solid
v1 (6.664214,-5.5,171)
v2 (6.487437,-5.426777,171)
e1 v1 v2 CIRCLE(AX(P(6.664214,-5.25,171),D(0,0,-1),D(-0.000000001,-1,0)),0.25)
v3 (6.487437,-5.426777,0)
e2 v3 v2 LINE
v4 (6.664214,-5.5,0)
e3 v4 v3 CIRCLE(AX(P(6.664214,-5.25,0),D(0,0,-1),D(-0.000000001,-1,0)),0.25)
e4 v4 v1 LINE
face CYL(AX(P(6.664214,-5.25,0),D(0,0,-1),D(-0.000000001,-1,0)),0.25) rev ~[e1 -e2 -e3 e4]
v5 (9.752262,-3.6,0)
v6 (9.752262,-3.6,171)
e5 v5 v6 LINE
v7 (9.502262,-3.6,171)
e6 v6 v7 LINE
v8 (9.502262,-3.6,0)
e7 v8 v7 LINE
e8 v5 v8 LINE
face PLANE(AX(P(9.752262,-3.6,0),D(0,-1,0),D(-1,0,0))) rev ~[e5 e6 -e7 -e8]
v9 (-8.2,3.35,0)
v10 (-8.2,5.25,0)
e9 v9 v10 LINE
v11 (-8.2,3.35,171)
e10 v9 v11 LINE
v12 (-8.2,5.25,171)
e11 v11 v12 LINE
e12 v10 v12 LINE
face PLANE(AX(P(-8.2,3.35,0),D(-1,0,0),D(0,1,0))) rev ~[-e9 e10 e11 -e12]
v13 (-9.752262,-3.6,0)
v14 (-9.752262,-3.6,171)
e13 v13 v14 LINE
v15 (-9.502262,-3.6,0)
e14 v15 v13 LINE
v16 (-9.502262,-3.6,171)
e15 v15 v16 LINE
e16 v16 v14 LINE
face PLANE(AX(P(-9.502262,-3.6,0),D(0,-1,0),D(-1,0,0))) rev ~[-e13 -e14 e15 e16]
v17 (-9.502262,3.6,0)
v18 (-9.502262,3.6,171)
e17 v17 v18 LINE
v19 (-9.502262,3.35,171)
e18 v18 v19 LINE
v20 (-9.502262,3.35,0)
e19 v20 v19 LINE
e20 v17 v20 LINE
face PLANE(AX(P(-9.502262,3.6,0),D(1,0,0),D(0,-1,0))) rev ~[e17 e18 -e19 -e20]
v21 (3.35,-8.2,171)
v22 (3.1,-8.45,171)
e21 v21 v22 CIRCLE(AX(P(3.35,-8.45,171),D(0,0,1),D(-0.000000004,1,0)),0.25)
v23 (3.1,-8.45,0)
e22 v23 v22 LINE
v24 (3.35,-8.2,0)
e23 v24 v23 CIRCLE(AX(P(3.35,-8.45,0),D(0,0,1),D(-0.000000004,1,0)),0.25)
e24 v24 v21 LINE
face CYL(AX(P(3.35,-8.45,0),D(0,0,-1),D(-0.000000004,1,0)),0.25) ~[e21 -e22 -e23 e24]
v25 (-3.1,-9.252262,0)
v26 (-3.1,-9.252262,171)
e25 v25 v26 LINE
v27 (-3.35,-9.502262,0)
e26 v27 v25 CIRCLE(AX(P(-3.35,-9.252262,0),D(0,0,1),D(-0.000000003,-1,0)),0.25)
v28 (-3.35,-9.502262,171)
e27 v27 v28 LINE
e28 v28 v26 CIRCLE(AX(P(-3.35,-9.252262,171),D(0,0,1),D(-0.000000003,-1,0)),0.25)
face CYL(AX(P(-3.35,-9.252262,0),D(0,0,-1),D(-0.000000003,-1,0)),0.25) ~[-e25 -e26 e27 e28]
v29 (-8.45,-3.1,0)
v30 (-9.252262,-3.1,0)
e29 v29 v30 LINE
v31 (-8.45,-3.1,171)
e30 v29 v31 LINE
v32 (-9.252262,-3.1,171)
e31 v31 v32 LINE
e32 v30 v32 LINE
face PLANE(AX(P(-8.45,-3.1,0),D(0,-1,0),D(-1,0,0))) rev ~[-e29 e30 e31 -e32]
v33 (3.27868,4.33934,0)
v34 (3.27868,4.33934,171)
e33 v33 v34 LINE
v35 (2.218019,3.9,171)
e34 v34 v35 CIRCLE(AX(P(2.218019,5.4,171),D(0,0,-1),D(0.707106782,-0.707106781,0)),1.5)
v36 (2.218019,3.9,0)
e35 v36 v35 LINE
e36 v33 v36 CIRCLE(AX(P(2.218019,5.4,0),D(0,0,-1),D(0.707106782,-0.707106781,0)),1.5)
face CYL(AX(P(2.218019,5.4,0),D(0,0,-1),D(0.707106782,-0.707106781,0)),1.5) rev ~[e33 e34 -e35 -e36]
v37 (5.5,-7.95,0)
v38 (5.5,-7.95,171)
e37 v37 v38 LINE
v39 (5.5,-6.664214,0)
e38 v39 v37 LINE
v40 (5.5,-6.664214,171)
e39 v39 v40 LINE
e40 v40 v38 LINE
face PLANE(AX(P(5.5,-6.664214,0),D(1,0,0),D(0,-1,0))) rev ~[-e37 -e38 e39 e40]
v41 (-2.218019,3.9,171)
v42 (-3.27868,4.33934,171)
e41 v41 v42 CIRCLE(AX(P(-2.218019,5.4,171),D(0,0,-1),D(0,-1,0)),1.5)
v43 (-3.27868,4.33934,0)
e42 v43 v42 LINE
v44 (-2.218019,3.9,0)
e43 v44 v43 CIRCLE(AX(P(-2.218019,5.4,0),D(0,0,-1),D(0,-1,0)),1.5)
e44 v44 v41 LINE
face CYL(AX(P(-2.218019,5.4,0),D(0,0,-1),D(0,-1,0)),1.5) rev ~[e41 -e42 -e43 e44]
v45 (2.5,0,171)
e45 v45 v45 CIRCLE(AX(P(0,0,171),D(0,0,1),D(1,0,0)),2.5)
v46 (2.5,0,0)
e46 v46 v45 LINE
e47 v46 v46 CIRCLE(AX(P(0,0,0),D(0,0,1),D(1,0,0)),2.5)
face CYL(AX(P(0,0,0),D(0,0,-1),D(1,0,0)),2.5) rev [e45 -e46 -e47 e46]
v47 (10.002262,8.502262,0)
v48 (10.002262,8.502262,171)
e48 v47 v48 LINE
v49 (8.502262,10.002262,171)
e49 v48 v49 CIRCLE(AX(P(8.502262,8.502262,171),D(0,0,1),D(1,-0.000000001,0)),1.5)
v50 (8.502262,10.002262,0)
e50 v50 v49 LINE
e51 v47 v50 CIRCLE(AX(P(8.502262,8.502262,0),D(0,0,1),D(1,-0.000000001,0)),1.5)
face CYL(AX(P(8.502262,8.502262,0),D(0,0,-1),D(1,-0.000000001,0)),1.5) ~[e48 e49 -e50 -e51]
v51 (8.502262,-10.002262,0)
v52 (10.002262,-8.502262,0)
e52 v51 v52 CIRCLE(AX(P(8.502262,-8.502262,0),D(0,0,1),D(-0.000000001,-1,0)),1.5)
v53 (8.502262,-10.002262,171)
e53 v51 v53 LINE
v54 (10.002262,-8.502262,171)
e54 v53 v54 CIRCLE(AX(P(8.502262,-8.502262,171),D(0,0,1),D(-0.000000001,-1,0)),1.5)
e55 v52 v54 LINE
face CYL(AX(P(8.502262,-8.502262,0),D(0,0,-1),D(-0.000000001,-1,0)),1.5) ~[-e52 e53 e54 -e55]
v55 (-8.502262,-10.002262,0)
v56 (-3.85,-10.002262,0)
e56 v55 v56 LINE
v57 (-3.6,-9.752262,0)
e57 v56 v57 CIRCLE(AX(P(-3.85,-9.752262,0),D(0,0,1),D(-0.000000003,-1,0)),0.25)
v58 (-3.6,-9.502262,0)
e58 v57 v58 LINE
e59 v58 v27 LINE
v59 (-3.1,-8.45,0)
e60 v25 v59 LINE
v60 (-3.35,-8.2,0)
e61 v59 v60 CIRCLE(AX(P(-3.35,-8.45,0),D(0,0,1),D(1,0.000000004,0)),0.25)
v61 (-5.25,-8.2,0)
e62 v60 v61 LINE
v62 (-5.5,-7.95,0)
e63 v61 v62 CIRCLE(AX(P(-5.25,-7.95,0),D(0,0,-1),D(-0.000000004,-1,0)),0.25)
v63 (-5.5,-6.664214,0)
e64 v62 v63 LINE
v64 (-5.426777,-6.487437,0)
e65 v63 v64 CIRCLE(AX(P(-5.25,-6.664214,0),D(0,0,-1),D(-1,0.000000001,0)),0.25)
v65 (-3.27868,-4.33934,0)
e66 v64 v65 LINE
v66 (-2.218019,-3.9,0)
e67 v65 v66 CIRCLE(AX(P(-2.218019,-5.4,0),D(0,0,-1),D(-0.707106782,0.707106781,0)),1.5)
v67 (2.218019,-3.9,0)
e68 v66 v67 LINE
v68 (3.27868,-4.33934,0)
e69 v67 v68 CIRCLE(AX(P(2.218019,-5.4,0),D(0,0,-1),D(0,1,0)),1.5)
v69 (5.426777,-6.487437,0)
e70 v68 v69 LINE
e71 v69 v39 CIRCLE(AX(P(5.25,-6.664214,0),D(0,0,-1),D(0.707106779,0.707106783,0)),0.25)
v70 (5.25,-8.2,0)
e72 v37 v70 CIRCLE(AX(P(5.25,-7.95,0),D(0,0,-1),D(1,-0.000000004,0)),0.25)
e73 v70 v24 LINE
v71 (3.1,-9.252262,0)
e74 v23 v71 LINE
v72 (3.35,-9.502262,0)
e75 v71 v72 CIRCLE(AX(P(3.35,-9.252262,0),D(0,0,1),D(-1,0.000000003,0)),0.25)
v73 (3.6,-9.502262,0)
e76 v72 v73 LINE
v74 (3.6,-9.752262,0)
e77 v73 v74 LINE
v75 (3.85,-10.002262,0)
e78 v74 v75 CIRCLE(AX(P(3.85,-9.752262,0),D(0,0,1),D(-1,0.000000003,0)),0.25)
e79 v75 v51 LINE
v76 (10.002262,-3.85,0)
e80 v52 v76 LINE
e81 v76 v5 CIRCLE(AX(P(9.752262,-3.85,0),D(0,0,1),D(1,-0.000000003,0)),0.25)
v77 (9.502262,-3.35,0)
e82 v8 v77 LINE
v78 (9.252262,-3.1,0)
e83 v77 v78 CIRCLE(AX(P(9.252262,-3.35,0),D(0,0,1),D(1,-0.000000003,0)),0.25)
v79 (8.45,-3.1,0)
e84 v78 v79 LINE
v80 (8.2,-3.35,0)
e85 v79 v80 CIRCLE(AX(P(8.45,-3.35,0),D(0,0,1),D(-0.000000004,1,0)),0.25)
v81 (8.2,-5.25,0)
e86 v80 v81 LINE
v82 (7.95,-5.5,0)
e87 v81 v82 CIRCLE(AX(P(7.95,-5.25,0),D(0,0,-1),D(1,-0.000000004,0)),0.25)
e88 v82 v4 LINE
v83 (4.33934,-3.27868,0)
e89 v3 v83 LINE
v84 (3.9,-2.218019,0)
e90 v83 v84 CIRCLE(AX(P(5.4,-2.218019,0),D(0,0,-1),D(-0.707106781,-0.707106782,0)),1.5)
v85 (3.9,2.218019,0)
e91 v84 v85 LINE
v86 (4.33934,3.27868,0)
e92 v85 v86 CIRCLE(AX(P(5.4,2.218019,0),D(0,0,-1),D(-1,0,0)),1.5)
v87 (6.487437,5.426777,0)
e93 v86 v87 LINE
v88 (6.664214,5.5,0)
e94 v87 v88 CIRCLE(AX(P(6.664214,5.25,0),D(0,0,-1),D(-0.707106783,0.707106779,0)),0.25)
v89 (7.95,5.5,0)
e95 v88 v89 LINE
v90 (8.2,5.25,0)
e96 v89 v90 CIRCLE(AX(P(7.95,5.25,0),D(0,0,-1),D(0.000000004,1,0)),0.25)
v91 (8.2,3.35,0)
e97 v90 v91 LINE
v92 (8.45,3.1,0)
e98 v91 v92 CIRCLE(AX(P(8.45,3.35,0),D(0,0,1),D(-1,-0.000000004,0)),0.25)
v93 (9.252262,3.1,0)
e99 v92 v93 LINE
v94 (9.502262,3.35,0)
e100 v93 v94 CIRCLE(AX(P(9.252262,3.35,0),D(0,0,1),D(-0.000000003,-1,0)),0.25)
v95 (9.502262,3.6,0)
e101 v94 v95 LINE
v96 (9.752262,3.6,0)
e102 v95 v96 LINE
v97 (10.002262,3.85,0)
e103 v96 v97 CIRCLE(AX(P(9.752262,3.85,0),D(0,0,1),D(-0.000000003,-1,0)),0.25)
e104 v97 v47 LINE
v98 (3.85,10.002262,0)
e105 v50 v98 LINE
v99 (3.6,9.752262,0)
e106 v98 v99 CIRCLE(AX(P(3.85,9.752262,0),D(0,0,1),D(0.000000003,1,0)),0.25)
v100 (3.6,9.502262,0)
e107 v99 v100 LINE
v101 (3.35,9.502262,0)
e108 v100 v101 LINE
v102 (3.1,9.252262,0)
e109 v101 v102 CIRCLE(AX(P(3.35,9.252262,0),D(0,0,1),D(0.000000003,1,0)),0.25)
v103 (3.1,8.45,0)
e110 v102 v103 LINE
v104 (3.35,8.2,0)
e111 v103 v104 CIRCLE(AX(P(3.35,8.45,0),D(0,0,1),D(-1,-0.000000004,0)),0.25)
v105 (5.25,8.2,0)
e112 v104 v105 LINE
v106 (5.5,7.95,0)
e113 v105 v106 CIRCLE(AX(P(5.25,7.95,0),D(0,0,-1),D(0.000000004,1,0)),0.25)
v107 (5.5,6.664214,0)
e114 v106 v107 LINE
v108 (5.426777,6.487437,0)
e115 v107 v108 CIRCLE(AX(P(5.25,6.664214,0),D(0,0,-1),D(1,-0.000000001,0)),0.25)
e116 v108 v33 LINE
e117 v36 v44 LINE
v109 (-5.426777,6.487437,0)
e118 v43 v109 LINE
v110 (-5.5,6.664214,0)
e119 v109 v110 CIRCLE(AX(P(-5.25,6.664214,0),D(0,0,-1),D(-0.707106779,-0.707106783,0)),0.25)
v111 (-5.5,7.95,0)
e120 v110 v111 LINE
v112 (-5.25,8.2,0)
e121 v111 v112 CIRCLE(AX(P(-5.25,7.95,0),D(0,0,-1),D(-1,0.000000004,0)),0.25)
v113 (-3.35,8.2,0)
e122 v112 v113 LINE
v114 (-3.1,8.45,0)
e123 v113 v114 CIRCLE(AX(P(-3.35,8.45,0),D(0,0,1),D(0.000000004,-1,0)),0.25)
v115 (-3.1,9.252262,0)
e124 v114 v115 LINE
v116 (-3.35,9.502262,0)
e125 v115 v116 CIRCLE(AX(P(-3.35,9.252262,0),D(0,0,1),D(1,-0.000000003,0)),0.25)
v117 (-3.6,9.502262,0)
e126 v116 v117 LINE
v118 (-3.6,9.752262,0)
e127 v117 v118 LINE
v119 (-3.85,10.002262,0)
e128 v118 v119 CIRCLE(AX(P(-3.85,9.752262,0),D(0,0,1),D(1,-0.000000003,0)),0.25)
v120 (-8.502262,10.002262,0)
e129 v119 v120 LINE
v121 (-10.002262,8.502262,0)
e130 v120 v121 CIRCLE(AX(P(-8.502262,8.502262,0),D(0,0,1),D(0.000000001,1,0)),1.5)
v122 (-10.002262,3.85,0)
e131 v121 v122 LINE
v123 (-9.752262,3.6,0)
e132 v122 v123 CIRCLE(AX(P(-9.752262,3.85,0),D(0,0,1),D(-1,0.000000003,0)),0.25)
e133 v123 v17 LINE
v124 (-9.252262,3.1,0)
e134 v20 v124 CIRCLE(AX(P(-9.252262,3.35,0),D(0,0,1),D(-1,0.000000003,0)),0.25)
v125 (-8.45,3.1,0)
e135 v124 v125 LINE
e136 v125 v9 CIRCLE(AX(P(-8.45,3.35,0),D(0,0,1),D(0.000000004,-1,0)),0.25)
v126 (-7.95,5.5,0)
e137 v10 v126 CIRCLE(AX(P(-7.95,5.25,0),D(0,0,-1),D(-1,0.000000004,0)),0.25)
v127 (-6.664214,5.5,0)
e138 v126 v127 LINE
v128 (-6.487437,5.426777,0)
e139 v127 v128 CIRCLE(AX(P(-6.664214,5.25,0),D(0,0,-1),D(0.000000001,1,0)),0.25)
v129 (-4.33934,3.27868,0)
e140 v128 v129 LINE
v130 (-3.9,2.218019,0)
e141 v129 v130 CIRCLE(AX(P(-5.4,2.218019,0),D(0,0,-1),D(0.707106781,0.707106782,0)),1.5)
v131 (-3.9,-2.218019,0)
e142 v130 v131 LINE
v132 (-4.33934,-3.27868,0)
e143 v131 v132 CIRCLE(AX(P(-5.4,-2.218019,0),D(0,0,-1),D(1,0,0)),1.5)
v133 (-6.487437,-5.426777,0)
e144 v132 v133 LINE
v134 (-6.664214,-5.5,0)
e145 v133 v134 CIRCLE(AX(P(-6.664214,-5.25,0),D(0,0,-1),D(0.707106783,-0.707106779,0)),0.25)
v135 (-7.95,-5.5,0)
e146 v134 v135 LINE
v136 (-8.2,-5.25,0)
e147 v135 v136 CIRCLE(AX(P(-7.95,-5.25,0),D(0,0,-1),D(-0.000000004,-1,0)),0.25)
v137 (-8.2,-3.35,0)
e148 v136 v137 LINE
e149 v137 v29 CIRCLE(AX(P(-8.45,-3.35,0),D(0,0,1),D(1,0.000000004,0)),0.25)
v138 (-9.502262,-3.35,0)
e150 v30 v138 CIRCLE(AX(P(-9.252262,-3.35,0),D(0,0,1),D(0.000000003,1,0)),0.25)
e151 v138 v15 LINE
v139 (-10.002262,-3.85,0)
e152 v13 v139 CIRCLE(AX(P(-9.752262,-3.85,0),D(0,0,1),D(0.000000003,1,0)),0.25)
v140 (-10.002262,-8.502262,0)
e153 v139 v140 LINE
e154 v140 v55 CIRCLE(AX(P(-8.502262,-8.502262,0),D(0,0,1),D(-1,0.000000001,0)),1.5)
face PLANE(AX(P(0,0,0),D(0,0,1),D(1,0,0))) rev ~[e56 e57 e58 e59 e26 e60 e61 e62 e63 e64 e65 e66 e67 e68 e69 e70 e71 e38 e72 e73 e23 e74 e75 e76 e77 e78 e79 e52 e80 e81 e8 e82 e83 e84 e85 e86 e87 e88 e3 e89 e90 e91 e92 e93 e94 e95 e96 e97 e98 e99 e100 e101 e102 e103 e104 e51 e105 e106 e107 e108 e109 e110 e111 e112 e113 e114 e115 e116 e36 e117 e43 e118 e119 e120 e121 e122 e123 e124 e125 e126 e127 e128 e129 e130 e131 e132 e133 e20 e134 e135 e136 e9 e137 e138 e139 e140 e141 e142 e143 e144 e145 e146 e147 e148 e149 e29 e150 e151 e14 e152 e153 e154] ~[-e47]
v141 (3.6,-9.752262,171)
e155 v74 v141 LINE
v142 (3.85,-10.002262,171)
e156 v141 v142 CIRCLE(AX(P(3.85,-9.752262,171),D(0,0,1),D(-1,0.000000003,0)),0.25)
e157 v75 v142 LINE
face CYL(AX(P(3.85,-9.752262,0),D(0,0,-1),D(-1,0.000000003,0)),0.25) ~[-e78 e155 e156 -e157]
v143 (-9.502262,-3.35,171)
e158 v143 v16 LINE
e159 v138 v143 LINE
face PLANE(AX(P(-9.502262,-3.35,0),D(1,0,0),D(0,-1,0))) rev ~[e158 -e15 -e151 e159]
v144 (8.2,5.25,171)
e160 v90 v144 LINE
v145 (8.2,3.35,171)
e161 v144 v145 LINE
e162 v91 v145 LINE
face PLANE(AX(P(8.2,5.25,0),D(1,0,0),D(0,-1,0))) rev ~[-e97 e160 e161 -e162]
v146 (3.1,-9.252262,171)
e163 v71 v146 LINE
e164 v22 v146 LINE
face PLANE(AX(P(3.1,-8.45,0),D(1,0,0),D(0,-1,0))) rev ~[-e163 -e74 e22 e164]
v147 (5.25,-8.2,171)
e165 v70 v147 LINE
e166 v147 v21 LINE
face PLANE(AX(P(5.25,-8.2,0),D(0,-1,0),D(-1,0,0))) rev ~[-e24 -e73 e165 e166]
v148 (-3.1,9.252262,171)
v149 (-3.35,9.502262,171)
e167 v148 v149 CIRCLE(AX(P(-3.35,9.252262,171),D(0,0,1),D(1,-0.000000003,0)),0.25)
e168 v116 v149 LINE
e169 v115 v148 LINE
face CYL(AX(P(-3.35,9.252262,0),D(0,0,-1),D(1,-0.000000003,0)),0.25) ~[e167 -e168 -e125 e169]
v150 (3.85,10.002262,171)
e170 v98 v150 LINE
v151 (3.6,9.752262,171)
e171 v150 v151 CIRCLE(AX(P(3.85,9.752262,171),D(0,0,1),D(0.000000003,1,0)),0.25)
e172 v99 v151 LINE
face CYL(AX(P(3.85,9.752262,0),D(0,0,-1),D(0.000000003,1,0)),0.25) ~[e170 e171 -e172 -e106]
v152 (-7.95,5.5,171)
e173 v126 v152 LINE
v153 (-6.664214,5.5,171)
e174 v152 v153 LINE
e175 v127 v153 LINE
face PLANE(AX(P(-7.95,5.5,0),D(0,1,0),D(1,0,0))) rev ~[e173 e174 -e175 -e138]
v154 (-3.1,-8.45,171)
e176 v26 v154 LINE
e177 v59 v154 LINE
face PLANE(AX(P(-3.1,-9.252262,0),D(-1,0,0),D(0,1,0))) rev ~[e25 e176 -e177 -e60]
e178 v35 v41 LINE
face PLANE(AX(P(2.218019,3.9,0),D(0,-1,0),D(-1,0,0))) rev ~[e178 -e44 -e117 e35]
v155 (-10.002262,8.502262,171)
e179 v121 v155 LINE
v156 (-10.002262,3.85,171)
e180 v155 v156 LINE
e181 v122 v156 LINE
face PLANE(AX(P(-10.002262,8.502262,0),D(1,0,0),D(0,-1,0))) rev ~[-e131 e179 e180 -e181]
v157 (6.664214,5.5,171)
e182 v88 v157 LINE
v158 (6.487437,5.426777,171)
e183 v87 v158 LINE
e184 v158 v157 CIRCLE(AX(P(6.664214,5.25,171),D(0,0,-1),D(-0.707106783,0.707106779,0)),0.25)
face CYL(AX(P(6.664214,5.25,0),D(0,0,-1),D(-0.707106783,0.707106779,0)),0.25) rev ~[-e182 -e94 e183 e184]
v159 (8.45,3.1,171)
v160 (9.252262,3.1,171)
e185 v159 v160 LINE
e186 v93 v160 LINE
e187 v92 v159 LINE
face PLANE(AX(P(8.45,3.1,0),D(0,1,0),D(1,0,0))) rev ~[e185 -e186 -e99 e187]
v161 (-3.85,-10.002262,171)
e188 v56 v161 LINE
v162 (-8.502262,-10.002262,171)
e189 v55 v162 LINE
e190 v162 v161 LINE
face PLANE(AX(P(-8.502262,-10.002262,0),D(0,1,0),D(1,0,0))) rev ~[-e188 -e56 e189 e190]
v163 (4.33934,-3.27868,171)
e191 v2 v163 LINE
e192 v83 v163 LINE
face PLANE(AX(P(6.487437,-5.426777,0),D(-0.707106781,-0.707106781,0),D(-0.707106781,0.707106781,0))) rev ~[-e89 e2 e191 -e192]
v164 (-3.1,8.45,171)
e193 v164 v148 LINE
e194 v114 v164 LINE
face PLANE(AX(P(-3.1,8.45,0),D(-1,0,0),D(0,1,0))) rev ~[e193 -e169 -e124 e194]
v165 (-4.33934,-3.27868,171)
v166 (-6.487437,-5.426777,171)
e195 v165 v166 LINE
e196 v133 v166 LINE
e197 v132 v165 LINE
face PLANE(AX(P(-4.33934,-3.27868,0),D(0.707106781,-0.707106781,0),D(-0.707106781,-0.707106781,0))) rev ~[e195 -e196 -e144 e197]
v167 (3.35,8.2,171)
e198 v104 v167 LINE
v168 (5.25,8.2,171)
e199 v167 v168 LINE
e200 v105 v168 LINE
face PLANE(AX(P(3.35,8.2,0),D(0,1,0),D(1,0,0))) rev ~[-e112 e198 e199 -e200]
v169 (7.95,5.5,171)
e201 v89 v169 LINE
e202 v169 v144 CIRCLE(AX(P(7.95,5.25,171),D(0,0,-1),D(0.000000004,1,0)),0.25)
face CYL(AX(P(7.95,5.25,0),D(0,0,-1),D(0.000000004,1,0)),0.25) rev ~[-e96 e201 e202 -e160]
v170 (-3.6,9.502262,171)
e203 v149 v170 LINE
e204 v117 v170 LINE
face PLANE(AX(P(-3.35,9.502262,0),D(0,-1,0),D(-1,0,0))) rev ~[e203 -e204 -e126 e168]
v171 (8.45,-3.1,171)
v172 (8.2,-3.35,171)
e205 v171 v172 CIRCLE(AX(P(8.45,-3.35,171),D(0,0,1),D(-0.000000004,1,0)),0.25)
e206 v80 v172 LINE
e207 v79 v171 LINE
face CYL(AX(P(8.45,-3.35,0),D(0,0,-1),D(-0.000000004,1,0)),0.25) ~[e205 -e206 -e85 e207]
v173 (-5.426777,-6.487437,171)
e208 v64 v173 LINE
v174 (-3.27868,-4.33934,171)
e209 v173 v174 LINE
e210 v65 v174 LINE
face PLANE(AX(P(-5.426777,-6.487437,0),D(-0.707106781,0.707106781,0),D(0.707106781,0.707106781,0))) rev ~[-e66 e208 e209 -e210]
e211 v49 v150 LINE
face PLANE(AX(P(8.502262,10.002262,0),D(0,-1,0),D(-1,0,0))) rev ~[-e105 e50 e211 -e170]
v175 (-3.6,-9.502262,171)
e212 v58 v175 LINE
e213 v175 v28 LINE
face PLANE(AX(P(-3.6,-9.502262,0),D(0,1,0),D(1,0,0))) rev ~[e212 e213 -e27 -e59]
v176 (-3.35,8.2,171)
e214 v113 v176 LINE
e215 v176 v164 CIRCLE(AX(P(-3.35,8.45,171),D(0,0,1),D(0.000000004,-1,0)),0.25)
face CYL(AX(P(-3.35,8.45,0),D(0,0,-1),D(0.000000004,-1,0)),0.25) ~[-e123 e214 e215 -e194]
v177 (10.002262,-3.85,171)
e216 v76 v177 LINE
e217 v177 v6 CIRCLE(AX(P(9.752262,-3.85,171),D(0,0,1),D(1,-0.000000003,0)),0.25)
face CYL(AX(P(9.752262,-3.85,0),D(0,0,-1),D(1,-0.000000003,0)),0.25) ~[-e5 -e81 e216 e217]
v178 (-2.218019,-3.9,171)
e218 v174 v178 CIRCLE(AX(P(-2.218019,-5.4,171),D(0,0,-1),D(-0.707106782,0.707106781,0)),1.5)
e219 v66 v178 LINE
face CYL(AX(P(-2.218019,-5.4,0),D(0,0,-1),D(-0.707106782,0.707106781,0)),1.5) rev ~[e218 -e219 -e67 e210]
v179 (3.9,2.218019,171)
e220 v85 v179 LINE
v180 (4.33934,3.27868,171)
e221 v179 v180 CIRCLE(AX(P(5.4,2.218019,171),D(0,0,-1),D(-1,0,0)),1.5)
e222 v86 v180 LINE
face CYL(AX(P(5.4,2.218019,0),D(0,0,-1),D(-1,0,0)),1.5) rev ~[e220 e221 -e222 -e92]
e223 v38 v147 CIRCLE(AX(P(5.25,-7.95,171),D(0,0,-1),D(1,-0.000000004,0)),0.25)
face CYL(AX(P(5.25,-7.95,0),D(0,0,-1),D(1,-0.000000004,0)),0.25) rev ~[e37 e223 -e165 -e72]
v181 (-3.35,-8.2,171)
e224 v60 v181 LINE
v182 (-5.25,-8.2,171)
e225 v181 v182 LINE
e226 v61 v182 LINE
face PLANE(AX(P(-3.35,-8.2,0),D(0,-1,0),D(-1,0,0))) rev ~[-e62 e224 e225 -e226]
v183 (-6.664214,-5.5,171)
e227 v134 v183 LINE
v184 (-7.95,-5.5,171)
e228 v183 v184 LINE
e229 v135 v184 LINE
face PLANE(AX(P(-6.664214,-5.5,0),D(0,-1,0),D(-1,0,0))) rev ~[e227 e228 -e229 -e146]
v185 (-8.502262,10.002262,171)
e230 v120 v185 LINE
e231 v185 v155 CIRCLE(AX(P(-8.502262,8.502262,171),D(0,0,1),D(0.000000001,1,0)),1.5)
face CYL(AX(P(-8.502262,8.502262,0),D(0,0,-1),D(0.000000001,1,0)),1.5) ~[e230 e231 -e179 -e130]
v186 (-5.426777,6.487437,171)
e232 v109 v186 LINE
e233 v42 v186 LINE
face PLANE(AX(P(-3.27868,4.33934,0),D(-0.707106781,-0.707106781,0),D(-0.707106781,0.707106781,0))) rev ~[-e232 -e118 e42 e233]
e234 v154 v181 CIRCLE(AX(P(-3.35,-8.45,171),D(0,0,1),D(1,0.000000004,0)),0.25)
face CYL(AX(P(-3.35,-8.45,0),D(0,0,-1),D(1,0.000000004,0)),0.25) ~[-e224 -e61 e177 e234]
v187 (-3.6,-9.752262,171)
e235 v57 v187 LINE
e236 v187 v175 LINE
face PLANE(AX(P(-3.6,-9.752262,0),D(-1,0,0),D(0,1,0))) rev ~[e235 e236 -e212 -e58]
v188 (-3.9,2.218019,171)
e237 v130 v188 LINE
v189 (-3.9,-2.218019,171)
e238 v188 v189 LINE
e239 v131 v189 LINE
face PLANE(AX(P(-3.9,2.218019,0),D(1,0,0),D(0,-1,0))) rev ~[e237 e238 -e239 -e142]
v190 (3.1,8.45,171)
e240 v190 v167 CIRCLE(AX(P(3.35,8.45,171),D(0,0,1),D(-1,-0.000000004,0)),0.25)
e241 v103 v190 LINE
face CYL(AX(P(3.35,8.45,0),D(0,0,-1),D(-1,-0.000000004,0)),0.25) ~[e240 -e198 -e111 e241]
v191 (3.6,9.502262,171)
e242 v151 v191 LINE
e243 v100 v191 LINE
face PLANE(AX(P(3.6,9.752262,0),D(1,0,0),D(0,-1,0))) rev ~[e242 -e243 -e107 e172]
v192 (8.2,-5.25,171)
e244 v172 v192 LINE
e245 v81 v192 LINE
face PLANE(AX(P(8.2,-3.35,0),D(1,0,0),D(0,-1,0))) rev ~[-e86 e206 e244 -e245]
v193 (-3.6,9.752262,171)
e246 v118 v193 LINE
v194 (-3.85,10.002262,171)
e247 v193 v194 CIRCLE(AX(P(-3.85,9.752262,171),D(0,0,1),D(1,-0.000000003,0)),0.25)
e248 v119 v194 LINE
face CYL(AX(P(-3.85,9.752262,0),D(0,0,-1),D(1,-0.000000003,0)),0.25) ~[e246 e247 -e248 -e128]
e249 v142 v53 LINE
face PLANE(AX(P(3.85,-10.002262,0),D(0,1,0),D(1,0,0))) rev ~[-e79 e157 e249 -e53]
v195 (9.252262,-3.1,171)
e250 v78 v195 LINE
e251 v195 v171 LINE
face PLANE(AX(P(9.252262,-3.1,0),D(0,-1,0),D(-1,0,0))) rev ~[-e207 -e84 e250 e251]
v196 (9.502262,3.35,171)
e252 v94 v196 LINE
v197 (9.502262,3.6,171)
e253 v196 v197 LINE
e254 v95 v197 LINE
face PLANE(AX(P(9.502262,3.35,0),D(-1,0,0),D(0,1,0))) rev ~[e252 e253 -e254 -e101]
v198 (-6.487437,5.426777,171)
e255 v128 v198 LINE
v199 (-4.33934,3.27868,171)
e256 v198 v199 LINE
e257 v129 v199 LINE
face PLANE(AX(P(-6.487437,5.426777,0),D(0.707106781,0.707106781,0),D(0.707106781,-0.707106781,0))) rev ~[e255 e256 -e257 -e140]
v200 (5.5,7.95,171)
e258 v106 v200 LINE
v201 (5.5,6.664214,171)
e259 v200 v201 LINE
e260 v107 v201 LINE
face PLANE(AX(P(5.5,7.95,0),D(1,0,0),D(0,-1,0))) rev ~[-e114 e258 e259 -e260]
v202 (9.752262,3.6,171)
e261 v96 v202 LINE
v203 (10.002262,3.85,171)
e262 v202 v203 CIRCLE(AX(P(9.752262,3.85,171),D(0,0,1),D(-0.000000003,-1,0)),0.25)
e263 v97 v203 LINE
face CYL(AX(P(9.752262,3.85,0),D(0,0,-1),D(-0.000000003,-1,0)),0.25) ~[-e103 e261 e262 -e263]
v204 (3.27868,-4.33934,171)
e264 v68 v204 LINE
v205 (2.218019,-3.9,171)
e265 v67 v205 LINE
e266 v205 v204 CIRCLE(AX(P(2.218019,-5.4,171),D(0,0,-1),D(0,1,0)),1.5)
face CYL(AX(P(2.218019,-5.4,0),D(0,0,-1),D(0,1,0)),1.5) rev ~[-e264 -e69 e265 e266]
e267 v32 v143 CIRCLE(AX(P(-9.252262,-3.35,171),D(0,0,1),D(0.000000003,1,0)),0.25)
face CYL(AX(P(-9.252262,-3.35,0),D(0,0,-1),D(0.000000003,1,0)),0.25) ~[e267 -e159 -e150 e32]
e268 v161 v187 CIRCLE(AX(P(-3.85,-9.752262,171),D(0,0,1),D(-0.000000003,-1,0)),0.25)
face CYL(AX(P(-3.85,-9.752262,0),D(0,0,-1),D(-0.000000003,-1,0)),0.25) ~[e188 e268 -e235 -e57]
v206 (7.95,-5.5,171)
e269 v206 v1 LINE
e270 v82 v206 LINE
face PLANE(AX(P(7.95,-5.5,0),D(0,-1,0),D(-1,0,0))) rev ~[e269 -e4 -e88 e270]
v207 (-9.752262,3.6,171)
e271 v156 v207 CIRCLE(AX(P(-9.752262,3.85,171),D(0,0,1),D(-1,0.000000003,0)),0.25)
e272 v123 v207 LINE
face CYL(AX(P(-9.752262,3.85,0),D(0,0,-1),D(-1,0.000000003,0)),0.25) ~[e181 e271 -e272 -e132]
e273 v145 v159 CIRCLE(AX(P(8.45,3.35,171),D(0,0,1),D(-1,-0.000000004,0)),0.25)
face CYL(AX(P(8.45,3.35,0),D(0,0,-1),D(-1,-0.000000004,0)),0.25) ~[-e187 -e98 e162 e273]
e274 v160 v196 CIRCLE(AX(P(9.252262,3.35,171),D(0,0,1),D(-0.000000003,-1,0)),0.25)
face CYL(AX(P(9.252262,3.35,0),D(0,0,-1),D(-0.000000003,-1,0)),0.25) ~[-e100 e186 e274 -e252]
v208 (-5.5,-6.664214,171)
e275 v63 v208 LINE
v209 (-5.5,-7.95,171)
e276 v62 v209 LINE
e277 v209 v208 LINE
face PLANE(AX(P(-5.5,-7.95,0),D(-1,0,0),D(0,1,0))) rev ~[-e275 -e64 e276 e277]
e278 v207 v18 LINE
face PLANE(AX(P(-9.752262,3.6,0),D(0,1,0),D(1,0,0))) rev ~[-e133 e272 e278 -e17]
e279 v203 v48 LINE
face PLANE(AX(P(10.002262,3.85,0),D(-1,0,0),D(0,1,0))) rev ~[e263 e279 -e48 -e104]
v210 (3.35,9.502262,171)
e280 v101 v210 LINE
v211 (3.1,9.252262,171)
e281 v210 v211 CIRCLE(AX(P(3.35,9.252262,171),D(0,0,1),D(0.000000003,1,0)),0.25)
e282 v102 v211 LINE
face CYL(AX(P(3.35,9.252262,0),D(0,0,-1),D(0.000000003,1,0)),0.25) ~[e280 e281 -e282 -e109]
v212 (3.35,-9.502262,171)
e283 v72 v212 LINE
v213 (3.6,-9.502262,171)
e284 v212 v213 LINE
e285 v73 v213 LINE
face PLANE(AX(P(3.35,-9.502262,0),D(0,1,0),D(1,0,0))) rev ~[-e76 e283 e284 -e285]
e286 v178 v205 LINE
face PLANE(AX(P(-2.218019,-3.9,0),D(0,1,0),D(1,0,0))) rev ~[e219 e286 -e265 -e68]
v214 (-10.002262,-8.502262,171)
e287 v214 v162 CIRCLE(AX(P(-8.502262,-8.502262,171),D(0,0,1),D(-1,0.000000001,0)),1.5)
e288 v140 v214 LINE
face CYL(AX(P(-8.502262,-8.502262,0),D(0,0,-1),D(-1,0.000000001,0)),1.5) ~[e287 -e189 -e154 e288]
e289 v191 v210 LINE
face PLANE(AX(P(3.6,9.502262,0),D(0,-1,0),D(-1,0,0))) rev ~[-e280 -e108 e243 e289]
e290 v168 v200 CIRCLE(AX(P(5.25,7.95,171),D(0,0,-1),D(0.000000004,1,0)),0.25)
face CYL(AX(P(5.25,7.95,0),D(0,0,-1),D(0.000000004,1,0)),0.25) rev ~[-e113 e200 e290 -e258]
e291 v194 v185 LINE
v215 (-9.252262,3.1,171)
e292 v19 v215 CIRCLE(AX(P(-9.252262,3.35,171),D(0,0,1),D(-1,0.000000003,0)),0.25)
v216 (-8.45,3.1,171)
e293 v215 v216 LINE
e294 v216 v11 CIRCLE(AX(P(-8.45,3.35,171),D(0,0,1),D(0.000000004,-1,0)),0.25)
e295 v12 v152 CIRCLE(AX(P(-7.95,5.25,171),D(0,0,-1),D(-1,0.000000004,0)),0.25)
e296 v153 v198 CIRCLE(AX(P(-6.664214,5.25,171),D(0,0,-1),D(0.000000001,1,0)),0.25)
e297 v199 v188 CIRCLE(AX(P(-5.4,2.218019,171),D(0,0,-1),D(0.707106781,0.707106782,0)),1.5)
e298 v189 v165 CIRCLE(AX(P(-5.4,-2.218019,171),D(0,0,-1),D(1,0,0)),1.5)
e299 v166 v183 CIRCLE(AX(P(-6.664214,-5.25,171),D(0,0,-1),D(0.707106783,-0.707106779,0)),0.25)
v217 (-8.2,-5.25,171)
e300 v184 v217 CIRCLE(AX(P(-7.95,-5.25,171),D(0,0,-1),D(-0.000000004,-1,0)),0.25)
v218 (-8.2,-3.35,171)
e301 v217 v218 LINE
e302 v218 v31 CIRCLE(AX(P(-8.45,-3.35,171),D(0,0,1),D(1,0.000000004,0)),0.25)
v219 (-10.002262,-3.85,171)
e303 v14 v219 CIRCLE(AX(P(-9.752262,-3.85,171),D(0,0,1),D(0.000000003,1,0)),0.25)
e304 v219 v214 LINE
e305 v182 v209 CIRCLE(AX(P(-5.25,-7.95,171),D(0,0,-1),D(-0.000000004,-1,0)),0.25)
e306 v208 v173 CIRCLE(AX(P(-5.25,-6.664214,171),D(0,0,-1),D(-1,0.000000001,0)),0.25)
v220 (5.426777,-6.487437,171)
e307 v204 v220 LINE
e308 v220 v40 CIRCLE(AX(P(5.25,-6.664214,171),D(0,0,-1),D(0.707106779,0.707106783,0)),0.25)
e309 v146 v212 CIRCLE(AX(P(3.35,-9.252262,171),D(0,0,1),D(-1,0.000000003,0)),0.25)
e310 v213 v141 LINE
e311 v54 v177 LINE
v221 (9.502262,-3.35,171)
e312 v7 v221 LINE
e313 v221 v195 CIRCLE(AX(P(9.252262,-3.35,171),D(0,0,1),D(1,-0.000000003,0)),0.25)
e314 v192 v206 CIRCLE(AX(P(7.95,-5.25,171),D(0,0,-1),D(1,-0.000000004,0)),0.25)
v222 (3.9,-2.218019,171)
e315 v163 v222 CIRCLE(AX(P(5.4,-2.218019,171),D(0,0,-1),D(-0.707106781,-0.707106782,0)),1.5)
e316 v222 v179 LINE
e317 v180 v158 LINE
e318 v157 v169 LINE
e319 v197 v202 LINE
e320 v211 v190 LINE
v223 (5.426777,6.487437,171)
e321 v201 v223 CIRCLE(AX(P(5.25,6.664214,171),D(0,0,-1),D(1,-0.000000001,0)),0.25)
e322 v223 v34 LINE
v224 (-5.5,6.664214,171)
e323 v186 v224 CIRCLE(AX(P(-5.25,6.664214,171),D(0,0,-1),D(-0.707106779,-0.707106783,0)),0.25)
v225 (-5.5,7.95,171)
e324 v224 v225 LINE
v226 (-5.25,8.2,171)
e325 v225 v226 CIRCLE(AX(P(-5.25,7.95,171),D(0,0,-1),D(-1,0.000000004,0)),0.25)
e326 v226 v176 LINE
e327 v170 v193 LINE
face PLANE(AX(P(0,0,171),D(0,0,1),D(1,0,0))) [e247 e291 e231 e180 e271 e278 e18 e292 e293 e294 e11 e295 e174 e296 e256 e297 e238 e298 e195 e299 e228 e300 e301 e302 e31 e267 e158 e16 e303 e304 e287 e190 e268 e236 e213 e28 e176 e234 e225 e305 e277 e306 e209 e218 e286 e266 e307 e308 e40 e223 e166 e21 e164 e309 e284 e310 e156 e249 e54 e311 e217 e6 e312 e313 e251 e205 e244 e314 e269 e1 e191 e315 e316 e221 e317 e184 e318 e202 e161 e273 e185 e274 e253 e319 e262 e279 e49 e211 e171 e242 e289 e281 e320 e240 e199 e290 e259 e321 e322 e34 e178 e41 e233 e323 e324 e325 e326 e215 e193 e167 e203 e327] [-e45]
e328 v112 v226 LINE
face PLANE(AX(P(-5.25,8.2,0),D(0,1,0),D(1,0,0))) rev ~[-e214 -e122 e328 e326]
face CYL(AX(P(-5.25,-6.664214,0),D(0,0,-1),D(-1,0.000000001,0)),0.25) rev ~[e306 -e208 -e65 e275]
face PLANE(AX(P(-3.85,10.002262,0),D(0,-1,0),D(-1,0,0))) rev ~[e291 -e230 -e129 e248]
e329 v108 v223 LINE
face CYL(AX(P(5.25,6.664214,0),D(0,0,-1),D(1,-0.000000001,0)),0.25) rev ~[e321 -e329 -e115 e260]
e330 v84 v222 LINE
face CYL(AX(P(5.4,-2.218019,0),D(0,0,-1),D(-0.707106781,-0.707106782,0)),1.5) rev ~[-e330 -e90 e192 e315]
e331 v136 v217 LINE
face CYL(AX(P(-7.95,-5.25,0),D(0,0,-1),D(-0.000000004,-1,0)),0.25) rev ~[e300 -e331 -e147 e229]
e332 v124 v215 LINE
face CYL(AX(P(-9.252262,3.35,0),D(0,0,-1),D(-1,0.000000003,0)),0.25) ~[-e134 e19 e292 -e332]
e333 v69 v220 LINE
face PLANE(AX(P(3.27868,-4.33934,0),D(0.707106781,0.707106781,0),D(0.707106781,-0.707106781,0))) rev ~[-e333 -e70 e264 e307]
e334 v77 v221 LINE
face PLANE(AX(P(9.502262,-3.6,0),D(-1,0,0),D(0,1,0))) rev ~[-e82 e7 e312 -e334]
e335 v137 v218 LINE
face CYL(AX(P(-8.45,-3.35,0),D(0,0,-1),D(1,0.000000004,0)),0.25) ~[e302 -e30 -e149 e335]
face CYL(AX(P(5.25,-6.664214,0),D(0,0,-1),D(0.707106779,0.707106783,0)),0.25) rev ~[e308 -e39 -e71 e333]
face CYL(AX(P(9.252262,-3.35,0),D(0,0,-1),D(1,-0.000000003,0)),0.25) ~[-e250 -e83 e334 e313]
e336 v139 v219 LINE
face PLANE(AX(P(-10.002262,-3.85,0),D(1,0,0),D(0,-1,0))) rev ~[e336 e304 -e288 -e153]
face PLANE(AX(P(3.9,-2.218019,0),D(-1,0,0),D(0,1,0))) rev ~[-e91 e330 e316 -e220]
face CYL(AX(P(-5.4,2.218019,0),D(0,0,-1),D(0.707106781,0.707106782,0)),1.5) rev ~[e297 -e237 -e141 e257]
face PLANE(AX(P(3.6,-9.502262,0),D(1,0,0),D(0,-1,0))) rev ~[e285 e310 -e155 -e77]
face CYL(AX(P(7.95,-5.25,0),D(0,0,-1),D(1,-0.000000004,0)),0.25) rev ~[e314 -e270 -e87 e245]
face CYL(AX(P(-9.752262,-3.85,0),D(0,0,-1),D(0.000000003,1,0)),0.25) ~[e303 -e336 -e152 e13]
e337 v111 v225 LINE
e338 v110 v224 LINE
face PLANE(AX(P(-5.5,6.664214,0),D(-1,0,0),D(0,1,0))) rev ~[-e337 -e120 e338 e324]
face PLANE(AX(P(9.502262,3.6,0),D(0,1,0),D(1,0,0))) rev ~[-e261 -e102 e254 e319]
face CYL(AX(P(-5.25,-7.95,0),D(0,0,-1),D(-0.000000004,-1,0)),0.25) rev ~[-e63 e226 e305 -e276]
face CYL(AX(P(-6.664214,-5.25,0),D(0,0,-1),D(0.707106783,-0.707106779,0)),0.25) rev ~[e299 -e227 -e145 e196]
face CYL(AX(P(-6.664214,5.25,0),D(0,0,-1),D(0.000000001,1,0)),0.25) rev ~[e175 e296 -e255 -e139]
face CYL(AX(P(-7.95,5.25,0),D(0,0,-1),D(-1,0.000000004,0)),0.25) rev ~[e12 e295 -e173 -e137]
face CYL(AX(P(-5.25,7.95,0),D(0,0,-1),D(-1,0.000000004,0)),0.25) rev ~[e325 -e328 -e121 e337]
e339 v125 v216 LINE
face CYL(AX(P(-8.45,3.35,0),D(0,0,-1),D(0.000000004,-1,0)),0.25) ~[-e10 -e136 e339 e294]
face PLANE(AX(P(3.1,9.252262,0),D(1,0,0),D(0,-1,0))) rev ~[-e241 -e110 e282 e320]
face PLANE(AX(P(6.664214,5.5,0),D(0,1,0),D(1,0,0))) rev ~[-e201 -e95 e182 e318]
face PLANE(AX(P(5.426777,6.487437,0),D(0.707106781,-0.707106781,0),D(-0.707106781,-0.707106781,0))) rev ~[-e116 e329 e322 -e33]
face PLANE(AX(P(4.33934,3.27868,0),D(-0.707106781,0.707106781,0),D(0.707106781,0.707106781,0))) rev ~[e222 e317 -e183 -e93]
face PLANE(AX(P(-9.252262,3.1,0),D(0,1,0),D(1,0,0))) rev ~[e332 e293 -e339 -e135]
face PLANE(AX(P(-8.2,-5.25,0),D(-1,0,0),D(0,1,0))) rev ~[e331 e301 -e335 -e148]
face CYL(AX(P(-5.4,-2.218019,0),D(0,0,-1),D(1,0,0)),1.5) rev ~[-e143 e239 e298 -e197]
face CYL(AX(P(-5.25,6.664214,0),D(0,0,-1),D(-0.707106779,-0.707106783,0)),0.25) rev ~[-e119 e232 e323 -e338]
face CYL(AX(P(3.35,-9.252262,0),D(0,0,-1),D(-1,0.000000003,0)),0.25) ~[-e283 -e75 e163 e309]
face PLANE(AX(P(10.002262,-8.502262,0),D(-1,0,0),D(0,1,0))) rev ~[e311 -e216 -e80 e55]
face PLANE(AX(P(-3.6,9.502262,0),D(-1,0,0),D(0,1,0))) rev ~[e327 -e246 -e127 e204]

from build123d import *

# Parameters (mm, degrees)
SKETCH_1_R      = 2.5
EXTRUDE_1_DEPTH = 171


with BuildPart() as part:
    # 草图1 → 凸台-拉伸1 (new body)
    with BuildSketch(Plane.XY):
        with BuildLine():
            Line((-8.502261885, -10.002261885), (-3.85, -10.002261885))
            ThreePointArc((-3.85, -10.002261885), (-3.673223305, -9.929038581), (-3.6, -9.752261885))
            Line((-3.6, -9.752261885), (-3.6, -9.502261885))
            Line((-3.6, -9.502261885), (-3.35, -9.502261885))
            ThreePointArc((-3.35, -9.502261885), (-3.173223305, -9.429038581), (-3.1, -9.252261885))
            Line((-3.1, -9.252261885), (-3.1, -8.45))
            ThreePointArc((-3.1, -8.45), (-3.173223305, -8.273223305), (-3.35, -8.2))
            Line((-3.35, -8.2), (-5.25, -8.2))
            ThreePointArc((-5.25, -8.2), (-5.426776695, -8.126776695), (-5.5, -7.95))
            Line((-5.5, -7.95), (-5.5, -6.664213562))
            ThreePointArc((-5.5, -6.664213562), (-5.480969883, -6.568542704), (-5.426776695, -6.487436867))
            Line((-5.426776695, -6.487436867), (-3.278679656, -4.339339828))
            ThreePointArc((-3.278679656, -4.339339828), (-2.792044633, -4.014180701), (-2.218019485, -3.9))
            Line((-2.218019485, -3.9), (2.218019485, -3.9))
            ThreePointArc((2.218019485, -3.9), (2.792044633, -4.014180701), (3.278679656, -4.339339828))
            Line((3.278679656, -4.339339828), (5.426776695, -6.487436867))
            ThreePointArc((5.426776695, -6.487436867), (5.480969883, -6.568542704), (5.5, -6.664213562))
            Line((5.5, -6.664213562), (5.5, -7.95))
            ThreePointArc((5.5, -7.95), (5.426776695, -8.126776695), (5.25, -8.2))
            Line((5.25, -8.2), (3.35, -8.2))
            ThreePointArc((3.35, -8.2), (3.173223305, -8.273223305), (3.1, -8.45))
            Line((3.1, -8.45), (3.1, -9.252261885))
            ThreePointArc((3.1, -9.252261885), (3.173223305, -9.429038581), (3.35, -9.502261885))
            Line((3.35, -9.502261885), (3.6, -9.502261885))
            Line((3.6, -9.502261885), (3.6, -9.752261885))
            ThreePointArc((3.6, -9.752261885), (3.673223305, -9.929038581), (3.85, -10.002261885))
            Line((3.85, -10.002261885), (8.502261885, -10.002261885))
            ThreePointArc((8.502261885, -10.002261885), (9.562922057, -9.562922057), (10.002261885, -8.502261885))
            Line((10.002261885, -8.502261885), (10.002261885, -3.85))
            ThreePointArc((10.002261885, -3.85), (9.929038581, -3.673223305), (9.752261885, -3.6))
            Line((9.752261885, -3.6), (9.502261885, -3.6))
            Line((9.502261885, -3.6), (9.502261885, -3.35))
            ThreePointArc((9.502261885, -3.35), (9.429038581, -3.173223305), (9.252261885, -3.1))
            Line((9.252261885, -3.1), (8.45, -3.1))
            ThreePointArc((8.45, -3.1), (8.273223305, -3.173223305), (8.2, -3.35))
            Line((8.2, -3.35), (8.2, -5.25))
            ThreePointArc((8.2, -5.25), (8.126776695, -5.426776695), (7.95, -5.5))
            Line((7.95, -5.5), (6.664213562, -5.5))
            ThreePointArc((6.664213562, -5.5), (6.568542704, -5.480969883), (6.487436867, -5.426776695))
            Line((6.487436867, -5.426776695), (4.339339828, -3.278679656))
            ThreePointArc((4.339339828, -3.278679656), (4.014180701, -2.792044633), (3.9, -2.218019485))
            Line((3.9, -2.218019485), (3.9, 2.218019485))
            ThreePointArc((3.9, 2.218019485), (4.014180701, 2.792044633), (4.339339828, 3.278679656))
            Line((4.339339828, 3.278679656), (6.487436867, 5.426776695))
            ThreePointArc((6.487436867, 5.426776695), (6.568542704, 5.480969883), (6.664213562, 5.5))
            Line((6.664213562, 5.5), (7.95, 5.5))
            ThreePointArc((7.95, 5.5), (8.126776695, 5.426776695), (8.2, 5.25))
            Line((8.2, 5.25), (8.2, 3.35))
            ThreePointArc((8.2, 3.35), (8.273223305, 3.173223305), (8.45, 3.1))
            Line((8.45, 3.1), (9.252261885, 3.1))
            ThreePointArc((9.252261885, 3.1), (9.429038581, 3.173223305), (9.502261885, 3.35))
            Line((9.502261885, 3.35), (9.502261885, 3.6))
            Line((9.502261885, 3.6), (9.752261885, 3.6))
            ThreePointArc((9.752261885, 3.6), (9.929038581, 3.673223305), (10.002261885, 3.85))
            Line((10.002261885, 3.85), (10.002261885, 8.502261885))
            ThreePointArc((10.002261885, 8.502261885), (9.562922057, 9.562922057), (8.502261885, 10.002261885))
            Line((8.502261885, 10.002261885), (3.85, 10.002261885))
            ThreePointArc((3.85, 10.002261885), (3.673223305, 9.929038581), (3.6, 9.752261885))
            Line((3.6, 9.752261885), (3.6, 9.502261885))
            Line((3.6, 9.502261885), (3.35, 9.502261885))
            ThreePointArc((3.35, 9.502261885), (3.173223305, 9.429038581), (3.1, 9.252261885))
            Line((3.1, 9.252261885), (3.1, 8.45))
            ThreePointArc((3.1, 8.45), (3.173223305, 8.273223305), (3.35, 8.2))
            Line((3.35, 8.2), (5.25, 8.2))
            ThreePointArc((5.25, 8.2), (5.426776695, 8.126776695), (5.5, 7.95))
            Line((5.5, 7.95), (5.5, 6.664213562))
            ThreePointArc((5.5, 6.664213562), (5.480969883, 6.568542704), (5.426776695, 6.487436867))
            Line((5.426776695, 6.487436867), (3.278679656, 4.339339828))
            ThreePointArc((3.278679656, 4.339339828), (2.792044633, 4.014180701), (2.218019485, 3.9))
            Line((2.218019485, 3.9), (-2.218019485, 3.9))
            ThreePointArc((-2.218019485, 3.9), (-2.792044633, 4.014180701), (-3.278679656, 4.339339828))
            Line((-3.278679656, 4.339339828), (-5.426776695, 6.487436867))
            ThreePointArc((-5.426776695, 6.487436867), (-5.480969883, 6.568542704), (-5.5, 6.664213562))
            Line((-5.5, 6.664213562), (-5.5, 7.95))
            ThreePointArc((-5.5, 7.95), (-5.426776695, 8.126776695), (-5.25, 8.2))
            Line((-5.25, 8.2), (-3.35, 8.2))
            ThreePointArc((-3.35, 8.2), (-3.173223305, 8.273223305), (-3.1, 8.45))
            Line((-3.1, 8.45), (-3.1, 9.252261885))
            ThreePointArc((-3.1, 9.252261885), (-3.173223305, 9.429038581), (-3.35, 9.502261885))
            Line((-3.35, 9.502261885), (-3.6, 9.502261885))
            Line((-3.6, 9.502261885), (-3.6, 9.752261885))
            ThreePointArc((-3.6, 9.752261885), (-3.673223305, 9.929038581), (-3.85, 10.002261885))
            Line((-3.85, 10.002261885), (-8.502261885, 10.002261885))
            ThreePointArc((-8.502261885, 10.002261885), (-9.562922057, 9.562922057), (-10.002261885, 8.502261885))
            Line((-10.002261885, 8.502261885), (-10.002261885, 3.85))
            ThreePointArc((-10.002261885, 3.85), (-9.929038581, 3.673223305), (-9.752261885, 3.6))
            Line((-9.752261885, 3.6), (-9.502261885, 3.6))
            Line((-9.502261885, 3.6), (-9.502261885, 3.35))
            ThreePointArc((-9.502261885, 3.35), (-9.429038581, 3.173223305), (-9.252261885, 3.1))
            Line((-9.252261885, 3.1), (-8.45, 3.1))
            ThreePointArc((-8.45, 3.1), (-8.273223305, 3.173223305), (-8.2, 3.35))
            Line((-8.2, 3.35), (-8.2, 5.25))
            ThreePointArc((-8.2, 5.25), (-8.126776695, 5.426776695), (-7.95, 5.5))
            Line((-7.95, 5.5), (-6.664213562, 5.5))
            ThreePointArc((-6.664213562, 5.5), (-6.568542704, 5.480969883), (-6.487436867, 5.426776695))
            Line((-6.487436867, 5.426776695), (-4.339339828, 3.278679656))
            ThreePointArc((-4.339339828, 3.278679656), (-4.014180701, 2.792044633), (-3.9, 2.218019485))
            Line((-3.9, 2.218019485), (-3.9, -2.218019485))
            ThreePointArc((-3.9, -2.218019485), (-4.014180701, -2.792044633), (-4.339339828, -3.278679656))
            Line((-4.339339828, -3.278679656), (-6.487436867, -5.426776695))
            ThreePointArc((-6.487436867, -5.426776695), (-6.568542704, -5.480969883), (-6.664213562, -5.5))
            Line((-6.664213562, -5.5), (-7.95, -5.5))
            ThreePointArc((-7.95, -5.5), (-8.126776695, -5.426776695), (-8.2, -5.25))
            Line((-8.2, -5.25), (-8.2, -3.35))
            ThreePointArc((-8.2, -3.35), (-8.273223305, -3.173223305), (-8.45, -3.1))
            Line((-8.45, -3.1), (-9.252261885, -3.1))
            ThreePointArc((-9.252261885, -3.1), (-9.429038581, -3.173223305), (-9.502261885, -3.35))
            Line((-9.502261885, -3.35), (-9.502261885, -3.6))
            Line((-9.502261885, -3.6), (-9.752261885, -3.6))
            ThreePointArc((-9.752261885, -3.6), (-9.929038581, -3.673223305), (-10.002261885, -3.85))
            Line((-10.002261885, -3.85), (-10.002261885, -8.502261885))
            ThreePointArc((-10.002261885, -8.502261885), (-9.562922057, -9.562922057), (-8.502261885, -10.002261885))
        make_face()
        Circle(SKETCH_1_R, mode=Mode.SUBTRACT)
    extrude(amount=EXTRUDE_1_DEPTH)


solid = part.part
